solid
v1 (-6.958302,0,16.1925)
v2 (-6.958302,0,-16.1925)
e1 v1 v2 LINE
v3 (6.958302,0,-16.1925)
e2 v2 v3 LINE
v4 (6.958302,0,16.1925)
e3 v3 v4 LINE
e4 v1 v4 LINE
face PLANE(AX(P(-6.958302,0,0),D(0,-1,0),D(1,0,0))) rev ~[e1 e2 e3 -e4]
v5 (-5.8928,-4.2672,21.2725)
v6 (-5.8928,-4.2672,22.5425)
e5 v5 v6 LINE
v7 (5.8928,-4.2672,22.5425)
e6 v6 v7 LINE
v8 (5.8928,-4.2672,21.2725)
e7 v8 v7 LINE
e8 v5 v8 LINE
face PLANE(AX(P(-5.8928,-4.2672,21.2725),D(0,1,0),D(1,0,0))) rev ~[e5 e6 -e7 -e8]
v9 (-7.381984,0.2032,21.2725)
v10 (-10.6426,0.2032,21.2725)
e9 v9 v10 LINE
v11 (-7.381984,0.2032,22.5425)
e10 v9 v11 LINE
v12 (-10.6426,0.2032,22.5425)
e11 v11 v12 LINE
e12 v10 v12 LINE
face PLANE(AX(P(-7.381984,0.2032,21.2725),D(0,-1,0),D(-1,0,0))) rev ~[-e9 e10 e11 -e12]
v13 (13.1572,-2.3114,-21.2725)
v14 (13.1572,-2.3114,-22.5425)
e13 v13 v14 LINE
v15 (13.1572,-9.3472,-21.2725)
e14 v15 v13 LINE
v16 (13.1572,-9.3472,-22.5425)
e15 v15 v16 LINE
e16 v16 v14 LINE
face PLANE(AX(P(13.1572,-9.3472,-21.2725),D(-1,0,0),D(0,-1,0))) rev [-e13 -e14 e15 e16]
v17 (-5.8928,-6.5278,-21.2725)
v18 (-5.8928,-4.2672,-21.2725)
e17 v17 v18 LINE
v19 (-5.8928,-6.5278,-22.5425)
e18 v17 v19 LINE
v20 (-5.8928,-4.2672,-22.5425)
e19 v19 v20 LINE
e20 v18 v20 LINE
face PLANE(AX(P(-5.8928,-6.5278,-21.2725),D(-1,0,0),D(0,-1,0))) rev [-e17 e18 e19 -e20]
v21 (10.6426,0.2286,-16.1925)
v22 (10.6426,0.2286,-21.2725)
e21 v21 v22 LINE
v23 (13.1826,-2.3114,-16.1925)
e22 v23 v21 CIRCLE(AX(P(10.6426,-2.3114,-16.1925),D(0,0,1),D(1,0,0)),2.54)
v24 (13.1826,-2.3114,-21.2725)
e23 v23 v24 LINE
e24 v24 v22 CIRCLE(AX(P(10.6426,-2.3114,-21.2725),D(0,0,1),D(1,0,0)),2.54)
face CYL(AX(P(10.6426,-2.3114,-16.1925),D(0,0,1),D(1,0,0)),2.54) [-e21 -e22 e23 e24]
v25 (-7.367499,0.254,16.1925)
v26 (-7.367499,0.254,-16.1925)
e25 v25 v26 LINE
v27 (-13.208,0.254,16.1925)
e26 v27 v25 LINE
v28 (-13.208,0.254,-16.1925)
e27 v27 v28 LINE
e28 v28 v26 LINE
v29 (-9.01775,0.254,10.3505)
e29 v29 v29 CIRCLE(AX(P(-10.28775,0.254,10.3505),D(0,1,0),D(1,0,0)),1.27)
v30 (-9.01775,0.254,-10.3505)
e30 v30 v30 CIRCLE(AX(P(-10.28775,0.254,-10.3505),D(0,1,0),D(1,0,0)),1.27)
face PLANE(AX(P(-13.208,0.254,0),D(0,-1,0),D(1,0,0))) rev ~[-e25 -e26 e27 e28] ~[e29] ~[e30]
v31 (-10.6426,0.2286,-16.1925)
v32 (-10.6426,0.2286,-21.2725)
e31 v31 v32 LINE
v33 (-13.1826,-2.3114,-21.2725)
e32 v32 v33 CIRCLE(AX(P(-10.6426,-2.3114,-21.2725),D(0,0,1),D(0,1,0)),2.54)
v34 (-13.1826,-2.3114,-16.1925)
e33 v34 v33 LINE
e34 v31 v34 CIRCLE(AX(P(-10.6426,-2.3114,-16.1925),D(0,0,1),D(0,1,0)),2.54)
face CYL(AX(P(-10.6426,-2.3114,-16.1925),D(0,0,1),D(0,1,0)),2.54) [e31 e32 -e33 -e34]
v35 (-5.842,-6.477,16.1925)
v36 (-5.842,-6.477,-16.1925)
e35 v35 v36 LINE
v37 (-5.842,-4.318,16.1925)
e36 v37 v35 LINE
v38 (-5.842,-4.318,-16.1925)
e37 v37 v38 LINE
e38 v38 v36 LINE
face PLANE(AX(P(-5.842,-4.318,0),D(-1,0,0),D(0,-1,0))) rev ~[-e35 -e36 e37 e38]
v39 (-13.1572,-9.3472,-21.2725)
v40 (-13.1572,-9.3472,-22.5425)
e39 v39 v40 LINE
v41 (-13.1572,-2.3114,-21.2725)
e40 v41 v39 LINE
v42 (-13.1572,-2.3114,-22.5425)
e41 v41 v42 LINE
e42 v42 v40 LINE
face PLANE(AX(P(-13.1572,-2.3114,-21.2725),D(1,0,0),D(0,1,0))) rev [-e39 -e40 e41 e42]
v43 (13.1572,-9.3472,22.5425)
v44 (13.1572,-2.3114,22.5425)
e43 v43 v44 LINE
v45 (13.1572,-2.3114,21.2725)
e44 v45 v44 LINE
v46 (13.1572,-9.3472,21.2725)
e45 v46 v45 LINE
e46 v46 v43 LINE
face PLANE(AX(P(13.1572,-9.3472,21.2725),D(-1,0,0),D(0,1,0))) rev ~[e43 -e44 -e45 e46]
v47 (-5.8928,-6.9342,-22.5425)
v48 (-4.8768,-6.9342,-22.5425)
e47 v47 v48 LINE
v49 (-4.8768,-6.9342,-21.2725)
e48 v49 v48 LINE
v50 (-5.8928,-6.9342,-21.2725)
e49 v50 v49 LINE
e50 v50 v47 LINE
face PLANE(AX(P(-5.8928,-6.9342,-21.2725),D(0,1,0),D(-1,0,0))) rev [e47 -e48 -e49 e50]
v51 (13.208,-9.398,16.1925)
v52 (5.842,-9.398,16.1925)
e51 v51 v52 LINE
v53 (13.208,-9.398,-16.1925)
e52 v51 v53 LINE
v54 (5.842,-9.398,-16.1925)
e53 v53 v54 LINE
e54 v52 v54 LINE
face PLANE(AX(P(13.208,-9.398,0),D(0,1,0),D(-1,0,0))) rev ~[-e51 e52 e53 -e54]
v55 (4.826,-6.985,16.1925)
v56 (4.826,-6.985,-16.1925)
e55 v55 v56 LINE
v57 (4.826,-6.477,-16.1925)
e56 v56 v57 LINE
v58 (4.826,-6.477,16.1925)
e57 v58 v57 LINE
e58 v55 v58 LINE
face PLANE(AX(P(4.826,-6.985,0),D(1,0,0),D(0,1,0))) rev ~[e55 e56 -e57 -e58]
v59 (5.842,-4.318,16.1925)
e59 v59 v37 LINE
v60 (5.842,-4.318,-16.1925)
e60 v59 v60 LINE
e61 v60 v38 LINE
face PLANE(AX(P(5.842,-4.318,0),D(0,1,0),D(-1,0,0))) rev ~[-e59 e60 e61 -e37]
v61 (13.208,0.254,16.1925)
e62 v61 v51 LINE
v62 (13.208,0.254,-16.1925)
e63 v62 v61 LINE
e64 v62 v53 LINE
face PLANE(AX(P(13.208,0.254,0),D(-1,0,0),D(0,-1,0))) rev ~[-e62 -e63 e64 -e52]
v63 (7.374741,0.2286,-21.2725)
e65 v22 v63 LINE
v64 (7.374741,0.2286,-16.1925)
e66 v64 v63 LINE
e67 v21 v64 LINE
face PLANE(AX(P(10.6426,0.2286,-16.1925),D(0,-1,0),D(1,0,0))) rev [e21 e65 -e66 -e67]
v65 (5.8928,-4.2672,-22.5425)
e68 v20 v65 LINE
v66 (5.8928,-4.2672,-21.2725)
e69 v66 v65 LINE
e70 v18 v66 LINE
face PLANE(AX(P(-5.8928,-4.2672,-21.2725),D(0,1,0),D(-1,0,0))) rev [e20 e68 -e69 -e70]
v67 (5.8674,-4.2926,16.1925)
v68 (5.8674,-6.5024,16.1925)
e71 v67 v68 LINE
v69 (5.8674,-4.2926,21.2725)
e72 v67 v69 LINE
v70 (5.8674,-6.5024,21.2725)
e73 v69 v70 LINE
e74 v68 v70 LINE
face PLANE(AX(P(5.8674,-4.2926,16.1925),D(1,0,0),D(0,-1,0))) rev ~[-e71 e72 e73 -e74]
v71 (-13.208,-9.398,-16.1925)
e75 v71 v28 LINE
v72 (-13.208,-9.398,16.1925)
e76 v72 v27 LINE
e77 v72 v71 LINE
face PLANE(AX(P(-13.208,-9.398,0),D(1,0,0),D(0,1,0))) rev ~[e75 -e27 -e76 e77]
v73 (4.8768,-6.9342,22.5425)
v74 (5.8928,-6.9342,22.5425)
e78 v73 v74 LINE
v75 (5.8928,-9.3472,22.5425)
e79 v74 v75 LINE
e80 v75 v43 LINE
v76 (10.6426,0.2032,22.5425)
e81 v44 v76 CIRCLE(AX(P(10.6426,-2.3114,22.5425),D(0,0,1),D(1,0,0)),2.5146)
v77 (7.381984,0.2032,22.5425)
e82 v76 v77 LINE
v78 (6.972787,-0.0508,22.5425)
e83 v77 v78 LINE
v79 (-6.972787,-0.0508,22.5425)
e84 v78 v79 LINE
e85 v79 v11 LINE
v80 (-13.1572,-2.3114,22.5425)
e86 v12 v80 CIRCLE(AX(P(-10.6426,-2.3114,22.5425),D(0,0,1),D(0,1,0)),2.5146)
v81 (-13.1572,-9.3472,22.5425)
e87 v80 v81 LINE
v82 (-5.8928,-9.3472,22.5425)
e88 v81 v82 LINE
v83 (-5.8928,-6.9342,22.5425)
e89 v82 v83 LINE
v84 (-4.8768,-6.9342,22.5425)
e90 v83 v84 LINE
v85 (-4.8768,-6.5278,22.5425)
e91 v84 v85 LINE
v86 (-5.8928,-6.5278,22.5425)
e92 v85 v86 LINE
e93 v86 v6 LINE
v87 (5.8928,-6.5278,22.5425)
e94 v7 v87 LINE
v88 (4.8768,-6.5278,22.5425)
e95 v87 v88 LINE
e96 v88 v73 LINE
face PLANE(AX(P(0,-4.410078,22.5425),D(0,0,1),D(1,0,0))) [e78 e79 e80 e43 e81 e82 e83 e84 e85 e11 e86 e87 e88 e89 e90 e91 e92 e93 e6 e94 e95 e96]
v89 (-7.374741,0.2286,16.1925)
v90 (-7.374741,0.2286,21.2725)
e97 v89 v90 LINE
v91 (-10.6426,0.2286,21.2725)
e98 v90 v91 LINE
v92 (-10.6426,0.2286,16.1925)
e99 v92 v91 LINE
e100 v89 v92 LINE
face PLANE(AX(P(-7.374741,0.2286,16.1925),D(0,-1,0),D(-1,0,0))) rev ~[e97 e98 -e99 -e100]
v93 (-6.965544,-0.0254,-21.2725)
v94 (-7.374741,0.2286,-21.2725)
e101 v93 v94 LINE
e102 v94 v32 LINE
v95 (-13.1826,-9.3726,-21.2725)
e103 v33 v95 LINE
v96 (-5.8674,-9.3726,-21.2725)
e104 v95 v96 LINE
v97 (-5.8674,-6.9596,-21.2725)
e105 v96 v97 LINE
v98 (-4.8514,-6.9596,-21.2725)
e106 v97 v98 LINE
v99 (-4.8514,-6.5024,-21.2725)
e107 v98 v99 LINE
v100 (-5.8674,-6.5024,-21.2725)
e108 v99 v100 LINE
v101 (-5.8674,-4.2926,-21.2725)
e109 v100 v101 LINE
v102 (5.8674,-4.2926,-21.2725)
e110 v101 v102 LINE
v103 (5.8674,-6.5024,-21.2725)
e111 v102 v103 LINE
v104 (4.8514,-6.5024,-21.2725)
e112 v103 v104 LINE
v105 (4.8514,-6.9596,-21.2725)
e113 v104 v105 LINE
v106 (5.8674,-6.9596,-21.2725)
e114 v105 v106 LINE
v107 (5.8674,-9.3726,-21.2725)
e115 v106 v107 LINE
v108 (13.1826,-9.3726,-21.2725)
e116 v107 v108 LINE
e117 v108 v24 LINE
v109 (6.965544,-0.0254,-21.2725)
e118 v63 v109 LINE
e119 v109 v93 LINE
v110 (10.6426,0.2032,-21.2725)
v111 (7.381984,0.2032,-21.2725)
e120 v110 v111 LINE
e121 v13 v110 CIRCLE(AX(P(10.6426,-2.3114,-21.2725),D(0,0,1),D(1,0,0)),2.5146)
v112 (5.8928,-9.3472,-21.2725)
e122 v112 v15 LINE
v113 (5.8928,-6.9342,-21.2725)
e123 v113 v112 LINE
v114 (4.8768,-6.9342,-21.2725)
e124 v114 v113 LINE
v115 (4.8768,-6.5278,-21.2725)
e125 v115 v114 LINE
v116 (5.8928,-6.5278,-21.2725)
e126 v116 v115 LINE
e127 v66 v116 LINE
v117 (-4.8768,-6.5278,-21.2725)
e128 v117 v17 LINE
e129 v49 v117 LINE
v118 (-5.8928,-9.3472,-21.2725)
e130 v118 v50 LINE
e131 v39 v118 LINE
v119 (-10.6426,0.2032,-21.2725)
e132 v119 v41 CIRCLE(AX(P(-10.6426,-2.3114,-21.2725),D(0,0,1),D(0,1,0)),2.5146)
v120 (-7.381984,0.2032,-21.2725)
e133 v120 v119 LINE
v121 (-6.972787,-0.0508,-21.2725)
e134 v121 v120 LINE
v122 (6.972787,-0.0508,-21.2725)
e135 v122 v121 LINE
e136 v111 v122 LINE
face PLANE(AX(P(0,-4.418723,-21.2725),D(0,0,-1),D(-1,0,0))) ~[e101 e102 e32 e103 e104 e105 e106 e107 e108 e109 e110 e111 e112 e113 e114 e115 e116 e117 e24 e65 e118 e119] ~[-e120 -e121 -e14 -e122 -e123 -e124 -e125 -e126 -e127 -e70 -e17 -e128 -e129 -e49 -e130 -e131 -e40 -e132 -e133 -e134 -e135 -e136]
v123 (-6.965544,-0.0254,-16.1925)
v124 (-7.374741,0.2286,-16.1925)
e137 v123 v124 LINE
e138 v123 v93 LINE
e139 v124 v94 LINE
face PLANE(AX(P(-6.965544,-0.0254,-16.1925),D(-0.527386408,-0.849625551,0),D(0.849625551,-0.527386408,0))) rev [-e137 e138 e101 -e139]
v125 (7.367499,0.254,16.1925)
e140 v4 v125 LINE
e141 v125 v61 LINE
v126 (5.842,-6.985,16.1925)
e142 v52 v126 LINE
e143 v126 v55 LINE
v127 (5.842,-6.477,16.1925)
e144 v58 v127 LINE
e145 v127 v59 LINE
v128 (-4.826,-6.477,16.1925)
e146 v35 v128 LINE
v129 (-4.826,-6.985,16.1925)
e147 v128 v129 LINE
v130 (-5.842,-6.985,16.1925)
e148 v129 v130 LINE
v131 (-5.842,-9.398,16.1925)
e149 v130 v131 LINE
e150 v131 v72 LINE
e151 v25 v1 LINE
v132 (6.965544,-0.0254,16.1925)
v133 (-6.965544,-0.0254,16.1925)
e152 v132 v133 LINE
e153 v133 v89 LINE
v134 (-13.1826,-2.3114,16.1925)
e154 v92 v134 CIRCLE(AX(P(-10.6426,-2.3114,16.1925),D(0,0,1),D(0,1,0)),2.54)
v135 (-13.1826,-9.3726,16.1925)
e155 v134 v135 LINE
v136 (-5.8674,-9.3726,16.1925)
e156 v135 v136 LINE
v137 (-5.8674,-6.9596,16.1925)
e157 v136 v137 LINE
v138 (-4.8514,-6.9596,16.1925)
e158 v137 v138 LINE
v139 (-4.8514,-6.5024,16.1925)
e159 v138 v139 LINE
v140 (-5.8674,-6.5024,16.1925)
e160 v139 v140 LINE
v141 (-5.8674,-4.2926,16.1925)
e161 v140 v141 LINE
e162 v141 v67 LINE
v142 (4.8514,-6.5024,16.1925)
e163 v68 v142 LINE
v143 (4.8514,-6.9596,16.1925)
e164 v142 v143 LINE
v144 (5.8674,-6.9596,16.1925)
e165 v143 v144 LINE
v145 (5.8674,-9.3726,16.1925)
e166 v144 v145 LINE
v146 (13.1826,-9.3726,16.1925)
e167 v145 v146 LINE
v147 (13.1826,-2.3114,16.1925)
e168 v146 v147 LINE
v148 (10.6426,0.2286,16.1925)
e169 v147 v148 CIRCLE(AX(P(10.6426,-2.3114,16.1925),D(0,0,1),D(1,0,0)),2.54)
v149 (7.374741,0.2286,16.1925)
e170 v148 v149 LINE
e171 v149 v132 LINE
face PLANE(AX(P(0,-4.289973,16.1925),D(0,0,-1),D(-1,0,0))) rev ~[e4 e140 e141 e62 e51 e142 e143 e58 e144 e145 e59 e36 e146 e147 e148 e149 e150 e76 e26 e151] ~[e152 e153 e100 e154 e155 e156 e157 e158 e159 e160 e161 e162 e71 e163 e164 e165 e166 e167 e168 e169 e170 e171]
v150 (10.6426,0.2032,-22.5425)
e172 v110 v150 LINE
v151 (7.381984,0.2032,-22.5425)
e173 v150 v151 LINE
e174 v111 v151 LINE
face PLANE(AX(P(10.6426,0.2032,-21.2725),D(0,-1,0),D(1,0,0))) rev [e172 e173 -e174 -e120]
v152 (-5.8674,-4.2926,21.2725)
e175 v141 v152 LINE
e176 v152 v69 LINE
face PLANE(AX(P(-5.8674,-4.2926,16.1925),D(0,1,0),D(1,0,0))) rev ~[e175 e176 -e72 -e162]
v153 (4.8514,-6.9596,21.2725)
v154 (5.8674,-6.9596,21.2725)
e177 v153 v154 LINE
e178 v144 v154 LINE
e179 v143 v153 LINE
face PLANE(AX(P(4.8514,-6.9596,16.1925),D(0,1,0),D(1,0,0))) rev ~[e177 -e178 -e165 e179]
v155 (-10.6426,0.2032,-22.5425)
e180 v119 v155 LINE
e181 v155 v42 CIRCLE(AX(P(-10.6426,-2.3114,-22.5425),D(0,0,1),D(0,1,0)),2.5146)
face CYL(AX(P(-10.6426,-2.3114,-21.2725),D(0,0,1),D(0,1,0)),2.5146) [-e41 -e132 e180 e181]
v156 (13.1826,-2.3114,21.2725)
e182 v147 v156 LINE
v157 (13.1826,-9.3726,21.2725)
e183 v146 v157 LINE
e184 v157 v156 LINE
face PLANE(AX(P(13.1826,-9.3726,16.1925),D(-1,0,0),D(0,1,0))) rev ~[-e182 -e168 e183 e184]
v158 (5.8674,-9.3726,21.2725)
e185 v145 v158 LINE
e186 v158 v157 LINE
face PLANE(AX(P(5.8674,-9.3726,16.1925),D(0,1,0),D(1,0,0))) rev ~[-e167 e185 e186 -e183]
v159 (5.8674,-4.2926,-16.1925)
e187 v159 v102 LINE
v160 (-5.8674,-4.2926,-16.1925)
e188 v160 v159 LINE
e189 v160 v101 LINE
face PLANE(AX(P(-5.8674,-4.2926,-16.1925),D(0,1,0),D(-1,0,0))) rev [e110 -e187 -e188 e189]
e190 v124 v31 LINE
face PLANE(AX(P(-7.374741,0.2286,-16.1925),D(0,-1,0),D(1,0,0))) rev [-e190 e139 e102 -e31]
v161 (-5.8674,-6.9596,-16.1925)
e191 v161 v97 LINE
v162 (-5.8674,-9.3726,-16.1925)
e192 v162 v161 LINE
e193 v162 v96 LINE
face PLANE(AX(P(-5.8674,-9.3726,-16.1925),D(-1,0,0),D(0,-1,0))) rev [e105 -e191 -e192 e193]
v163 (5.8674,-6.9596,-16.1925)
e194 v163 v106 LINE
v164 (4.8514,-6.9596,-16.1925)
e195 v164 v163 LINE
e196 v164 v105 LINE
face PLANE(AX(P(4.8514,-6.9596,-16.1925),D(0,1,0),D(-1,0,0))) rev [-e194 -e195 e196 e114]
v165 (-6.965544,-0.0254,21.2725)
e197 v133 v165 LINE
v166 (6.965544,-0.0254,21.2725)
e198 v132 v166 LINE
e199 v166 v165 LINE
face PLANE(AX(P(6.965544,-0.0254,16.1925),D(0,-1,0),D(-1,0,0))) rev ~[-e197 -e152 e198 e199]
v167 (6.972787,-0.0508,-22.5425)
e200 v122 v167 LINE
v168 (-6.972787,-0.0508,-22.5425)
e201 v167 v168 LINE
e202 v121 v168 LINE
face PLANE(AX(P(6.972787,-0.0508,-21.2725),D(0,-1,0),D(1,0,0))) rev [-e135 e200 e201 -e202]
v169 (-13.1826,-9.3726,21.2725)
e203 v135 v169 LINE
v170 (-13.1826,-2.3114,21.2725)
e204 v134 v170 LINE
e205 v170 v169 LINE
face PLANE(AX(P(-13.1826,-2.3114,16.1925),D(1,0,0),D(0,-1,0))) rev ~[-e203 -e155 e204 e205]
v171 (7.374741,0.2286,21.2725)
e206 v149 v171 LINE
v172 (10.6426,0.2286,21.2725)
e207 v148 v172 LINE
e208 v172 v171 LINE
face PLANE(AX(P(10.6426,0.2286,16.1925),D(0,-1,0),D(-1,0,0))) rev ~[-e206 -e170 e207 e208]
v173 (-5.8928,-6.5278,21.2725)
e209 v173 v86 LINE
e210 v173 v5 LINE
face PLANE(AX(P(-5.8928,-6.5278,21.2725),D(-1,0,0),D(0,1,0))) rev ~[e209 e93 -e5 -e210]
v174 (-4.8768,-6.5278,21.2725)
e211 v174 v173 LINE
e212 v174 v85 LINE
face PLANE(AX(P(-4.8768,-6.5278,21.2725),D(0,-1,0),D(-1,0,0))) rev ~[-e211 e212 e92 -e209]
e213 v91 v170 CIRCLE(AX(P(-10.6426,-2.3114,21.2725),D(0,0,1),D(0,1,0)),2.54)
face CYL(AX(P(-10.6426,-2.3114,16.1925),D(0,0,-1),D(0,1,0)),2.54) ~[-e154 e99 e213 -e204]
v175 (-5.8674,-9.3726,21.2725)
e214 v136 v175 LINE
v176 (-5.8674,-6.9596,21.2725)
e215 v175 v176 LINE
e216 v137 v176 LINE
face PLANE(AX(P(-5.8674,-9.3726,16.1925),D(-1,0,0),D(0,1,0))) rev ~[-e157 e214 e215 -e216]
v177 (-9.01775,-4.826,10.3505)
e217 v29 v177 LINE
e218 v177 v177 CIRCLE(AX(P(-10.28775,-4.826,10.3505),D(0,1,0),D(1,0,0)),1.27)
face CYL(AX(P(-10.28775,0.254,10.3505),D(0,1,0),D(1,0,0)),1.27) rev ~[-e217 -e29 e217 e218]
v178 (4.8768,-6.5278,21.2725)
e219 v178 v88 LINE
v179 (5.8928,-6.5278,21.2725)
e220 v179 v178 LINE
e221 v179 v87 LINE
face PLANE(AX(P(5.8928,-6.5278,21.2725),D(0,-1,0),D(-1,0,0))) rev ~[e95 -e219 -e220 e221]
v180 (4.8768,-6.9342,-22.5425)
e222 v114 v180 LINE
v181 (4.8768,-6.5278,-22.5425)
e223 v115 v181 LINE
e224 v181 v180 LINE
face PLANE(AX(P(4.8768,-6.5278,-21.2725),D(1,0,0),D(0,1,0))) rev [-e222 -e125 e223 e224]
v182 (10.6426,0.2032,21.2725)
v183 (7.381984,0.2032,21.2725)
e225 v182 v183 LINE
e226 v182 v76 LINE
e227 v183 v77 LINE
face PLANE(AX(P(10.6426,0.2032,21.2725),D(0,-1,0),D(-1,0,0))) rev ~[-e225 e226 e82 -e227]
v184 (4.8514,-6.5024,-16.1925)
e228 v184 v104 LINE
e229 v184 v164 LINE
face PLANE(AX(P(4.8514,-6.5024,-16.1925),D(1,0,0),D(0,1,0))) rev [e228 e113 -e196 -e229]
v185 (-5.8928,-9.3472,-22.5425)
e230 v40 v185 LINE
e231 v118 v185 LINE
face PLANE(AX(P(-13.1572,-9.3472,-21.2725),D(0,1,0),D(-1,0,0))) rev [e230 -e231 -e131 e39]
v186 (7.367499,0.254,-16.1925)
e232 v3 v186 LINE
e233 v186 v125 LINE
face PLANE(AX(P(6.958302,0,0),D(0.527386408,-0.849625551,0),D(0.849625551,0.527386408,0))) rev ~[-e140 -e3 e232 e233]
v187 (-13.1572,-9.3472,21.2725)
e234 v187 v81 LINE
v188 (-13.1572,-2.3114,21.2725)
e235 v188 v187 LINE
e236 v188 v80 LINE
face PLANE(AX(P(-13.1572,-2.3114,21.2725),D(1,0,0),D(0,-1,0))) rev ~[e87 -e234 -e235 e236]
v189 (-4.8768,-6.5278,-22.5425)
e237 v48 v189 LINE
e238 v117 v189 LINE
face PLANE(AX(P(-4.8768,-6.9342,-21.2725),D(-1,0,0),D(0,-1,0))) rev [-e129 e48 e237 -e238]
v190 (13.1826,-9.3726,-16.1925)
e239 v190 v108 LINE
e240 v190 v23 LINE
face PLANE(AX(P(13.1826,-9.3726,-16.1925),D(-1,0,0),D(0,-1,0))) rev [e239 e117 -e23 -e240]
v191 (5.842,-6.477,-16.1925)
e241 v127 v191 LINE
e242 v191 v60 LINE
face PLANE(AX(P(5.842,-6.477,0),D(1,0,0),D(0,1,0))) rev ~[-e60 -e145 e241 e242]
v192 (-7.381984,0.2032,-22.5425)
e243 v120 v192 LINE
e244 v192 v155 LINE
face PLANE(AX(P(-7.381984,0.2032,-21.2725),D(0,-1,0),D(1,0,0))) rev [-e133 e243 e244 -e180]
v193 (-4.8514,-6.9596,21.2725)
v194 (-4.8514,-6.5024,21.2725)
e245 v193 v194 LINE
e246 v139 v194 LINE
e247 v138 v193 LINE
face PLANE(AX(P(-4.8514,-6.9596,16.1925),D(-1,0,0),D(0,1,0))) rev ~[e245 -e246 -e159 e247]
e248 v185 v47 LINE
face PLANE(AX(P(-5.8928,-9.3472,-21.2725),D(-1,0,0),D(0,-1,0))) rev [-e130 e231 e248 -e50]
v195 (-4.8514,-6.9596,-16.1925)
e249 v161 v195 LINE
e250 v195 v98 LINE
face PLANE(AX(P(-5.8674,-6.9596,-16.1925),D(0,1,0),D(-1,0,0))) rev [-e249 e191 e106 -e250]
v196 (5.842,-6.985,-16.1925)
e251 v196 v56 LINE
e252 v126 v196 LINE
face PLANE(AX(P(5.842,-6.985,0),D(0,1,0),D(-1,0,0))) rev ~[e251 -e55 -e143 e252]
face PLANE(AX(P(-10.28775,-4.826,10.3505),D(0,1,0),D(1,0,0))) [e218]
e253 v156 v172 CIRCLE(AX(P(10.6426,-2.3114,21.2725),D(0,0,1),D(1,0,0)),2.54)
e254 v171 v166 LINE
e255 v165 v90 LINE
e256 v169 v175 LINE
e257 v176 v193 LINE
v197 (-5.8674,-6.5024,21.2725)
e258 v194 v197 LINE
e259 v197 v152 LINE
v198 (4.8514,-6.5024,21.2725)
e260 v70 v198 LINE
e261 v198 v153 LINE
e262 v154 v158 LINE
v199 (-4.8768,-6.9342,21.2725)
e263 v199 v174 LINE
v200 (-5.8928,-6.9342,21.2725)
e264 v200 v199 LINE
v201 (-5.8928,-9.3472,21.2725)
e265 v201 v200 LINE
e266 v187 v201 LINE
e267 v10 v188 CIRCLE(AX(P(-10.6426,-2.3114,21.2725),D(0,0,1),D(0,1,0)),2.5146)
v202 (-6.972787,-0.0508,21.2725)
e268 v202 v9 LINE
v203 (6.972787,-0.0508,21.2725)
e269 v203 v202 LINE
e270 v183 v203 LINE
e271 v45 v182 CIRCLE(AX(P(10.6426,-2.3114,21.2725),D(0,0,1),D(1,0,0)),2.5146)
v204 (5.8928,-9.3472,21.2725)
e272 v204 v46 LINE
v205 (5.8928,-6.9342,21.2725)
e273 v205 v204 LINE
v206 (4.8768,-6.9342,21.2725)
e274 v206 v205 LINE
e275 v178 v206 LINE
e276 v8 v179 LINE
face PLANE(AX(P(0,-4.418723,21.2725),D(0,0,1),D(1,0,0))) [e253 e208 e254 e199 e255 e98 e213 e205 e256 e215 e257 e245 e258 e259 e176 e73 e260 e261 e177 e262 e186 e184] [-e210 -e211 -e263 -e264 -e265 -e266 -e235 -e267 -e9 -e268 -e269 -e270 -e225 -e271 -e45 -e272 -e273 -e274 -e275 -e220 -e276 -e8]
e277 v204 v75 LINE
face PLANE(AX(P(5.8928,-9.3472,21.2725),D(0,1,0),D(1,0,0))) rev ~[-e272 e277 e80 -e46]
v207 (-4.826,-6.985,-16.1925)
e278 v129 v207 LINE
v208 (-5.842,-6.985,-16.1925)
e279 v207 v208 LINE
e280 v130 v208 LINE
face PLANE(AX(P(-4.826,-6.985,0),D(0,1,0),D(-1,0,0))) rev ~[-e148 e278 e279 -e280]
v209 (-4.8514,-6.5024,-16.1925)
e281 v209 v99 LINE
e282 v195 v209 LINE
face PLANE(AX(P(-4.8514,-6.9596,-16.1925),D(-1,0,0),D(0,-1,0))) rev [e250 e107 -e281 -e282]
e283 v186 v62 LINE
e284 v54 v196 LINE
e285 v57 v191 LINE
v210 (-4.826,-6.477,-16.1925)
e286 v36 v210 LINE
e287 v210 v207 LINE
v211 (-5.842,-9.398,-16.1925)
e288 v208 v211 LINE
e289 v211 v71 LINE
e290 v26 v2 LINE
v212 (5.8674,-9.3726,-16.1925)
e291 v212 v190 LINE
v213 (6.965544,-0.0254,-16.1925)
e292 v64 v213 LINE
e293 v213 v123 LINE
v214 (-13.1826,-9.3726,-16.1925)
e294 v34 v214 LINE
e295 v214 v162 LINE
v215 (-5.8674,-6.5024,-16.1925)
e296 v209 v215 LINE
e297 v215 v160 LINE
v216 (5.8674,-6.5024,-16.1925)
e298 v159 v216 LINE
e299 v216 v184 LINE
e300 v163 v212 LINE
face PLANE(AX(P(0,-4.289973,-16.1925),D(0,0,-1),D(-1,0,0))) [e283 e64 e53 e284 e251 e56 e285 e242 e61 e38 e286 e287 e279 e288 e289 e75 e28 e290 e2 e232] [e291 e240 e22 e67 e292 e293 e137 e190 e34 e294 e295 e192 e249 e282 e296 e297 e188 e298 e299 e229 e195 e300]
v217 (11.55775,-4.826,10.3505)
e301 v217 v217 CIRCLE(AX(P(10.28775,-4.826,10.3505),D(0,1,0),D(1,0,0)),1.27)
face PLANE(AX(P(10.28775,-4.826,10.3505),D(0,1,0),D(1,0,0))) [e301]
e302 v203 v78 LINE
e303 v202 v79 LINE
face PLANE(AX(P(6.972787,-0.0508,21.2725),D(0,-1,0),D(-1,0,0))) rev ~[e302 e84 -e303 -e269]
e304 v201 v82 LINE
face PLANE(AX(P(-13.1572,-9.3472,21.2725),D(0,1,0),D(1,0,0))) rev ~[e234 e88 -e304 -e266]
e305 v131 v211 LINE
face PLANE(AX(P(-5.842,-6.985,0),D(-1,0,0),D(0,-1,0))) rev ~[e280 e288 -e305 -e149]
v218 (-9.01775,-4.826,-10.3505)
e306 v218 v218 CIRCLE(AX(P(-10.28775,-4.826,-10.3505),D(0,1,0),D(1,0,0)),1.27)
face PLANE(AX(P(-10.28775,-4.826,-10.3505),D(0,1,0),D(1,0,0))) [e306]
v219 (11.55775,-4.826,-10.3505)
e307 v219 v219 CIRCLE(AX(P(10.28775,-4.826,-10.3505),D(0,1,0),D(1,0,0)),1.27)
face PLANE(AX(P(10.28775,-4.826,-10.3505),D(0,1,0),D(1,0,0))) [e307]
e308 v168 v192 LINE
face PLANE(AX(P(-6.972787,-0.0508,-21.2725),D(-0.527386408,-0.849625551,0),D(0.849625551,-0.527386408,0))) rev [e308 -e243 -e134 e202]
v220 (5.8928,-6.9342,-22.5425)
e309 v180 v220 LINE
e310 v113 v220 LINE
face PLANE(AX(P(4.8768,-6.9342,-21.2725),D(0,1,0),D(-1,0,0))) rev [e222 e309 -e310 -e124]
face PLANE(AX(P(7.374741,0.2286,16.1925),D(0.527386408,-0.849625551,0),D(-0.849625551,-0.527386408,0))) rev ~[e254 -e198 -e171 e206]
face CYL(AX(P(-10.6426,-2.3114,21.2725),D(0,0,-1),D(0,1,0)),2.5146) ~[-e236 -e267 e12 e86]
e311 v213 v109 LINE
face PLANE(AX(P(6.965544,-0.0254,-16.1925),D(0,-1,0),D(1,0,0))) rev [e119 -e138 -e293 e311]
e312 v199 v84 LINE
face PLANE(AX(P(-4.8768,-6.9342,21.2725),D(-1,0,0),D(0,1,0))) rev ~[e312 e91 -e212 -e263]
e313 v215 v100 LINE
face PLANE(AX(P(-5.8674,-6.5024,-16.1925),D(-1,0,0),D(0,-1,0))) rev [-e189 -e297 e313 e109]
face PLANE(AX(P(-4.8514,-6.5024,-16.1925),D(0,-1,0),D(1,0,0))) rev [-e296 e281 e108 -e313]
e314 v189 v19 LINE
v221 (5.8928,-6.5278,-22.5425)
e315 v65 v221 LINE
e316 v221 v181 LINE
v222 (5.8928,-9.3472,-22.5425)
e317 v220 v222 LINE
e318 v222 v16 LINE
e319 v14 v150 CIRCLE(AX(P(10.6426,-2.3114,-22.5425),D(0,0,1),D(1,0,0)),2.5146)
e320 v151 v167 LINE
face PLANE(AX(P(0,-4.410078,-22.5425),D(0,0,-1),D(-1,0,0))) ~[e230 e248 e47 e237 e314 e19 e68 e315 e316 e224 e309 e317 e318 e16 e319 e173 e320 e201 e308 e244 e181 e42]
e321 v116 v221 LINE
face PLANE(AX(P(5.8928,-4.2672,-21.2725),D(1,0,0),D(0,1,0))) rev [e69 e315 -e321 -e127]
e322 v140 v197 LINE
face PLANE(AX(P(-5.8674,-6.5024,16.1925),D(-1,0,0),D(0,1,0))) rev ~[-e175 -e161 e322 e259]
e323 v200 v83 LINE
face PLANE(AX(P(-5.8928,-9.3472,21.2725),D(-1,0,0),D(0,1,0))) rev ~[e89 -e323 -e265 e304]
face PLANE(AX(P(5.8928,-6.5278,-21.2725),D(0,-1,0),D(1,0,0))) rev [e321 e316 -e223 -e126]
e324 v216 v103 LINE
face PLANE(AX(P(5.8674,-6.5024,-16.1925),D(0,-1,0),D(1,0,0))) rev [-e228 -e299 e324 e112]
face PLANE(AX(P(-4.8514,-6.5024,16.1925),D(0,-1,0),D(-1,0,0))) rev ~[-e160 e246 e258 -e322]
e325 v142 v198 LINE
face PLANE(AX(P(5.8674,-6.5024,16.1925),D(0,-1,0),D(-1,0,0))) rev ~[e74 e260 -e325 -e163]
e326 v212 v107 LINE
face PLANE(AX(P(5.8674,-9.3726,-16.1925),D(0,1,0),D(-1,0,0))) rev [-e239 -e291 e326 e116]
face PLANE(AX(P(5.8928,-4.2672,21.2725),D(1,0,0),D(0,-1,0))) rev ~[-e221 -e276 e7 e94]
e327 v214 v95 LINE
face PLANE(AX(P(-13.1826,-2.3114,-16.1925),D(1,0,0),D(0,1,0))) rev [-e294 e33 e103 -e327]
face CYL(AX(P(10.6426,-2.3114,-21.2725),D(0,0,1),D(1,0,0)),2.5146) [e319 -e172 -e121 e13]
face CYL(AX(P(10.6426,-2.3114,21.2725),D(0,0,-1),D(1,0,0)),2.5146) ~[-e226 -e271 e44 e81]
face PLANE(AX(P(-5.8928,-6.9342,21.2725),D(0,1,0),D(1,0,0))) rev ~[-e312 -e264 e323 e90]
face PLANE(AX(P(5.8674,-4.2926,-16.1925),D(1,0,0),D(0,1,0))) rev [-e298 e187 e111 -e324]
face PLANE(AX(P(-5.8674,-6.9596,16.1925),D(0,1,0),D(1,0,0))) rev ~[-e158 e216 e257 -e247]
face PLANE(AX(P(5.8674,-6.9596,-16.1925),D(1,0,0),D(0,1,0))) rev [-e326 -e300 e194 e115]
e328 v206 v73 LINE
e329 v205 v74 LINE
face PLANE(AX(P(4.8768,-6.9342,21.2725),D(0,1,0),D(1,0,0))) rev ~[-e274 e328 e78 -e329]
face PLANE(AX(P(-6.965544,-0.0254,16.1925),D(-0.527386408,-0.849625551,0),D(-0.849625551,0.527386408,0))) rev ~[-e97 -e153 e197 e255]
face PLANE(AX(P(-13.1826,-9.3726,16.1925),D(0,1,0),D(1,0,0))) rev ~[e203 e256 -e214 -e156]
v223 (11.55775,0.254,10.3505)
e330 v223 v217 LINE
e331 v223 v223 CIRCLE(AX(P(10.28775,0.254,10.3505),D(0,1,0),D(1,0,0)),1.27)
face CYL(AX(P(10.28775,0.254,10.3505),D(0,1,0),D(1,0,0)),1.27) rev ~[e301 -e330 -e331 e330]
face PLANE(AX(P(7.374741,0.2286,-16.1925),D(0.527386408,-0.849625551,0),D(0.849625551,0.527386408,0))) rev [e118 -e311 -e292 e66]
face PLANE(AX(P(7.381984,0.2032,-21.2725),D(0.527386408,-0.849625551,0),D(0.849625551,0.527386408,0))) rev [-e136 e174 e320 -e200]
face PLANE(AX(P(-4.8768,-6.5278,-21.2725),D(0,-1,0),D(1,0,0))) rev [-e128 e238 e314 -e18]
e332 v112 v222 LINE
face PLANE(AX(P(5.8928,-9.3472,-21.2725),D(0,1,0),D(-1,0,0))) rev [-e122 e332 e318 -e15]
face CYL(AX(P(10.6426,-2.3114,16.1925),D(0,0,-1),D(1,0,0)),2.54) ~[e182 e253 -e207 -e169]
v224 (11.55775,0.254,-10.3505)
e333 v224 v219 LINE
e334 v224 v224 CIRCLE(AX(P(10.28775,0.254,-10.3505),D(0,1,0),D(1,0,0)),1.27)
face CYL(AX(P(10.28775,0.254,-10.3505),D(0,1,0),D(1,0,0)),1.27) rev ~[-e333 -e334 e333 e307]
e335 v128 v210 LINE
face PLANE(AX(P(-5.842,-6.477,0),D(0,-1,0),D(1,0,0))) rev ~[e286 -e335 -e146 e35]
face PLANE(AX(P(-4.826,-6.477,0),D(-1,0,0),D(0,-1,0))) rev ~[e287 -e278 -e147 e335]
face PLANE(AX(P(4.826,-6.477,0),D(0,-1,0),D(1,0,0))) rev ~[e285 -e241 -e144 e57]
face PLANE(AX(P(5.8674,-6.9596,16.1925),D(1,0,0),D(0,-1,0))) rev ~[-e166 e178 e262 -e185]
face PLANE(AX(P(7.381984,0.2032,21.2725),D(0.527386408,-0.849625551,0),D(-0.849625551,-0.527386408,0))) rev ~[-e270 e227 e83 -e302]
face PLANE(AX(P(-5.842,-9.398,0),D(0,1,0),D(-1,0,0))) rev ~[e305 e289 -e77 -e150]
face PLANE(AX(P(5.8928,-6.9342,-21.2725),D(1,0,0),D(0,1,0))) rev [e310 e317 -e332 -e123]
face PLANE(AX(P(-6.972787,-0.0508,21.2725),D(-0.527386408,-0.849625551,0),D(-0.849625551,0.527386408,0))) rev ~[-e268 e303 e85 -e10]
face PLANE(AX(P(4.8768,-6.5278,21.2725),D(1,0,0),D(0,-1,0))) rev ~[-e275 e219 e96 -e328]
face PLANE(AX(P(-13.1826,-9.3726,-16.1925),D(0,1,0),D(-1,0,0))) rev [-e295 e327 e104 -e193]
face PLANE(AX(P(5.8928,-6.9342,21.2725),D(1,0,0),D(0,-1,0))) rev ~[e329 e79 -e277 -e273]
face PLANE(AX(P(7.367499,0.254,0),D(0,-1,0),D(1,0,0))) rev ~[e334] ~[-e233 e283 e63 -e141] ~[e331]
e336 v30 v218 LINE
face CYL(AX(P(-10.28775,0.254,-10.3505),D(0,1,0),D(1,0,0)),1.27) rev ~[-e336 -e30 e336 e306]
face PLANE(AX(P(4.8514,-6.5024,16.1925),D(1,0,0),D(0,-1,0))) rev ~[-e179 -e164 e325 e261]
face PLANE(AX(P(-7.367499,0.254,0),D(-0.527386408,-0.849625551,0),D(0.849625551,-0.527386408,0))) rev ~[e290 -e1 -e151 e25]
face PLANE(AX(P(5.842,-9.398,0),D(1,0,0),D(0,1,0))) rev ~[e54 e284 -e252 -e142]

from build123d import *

# Parameters (mm, degrees)
BOSS_EXTRUDE1_DEPTH = 16.1925
SKETCH2_R           = 1.27
CUT_EXTRUDE1_DEPTH  = 5.08
BOSS_EXTRUDE2_DEPTH = 5.08
BOSS_EXTRUDE3_DEPTH = 1.27


with BuildPart() as part:
    # Sketch1 → Boss-Extrude1 (new body, symmetric)
    with BuildSketch(Plane.XY):
        Polygon((13.208, 0.254), (13.208, -9.398), (5.842, -9.398), (5.842, -6.985), (4.826, -6.985), (4.826, -6.477), (5.842, -6.477), (5.842, -4.318), (-5.842, -4.318), (-5.842, -6.477), (-4.826, -6.477), (-4.826, -6.985), (-5.842, -6.985), (-5.842, -9.398), (-13.208, -9.398), (-13.208, 0.254), (-7.367499011, 0.254), (-6.958302098, 0), (6.958302098, 0), (7.367499011, 0.254), align=None)
    extrude(amount=BOSS_EXTRUDE1_DEPTH, both=True)

    # Sketch2 → Cut-Extrude1 (cut)
    with BuildSketch(Plane(origin=(0, 0.254, 0), x_dir=(1, 0, 0), z_dir=(0, 1, 0))):
        with Locations((-10.287749506, 10.3505)):
            Circle(SKETCH2_R)
        with Locations((10.287749506, 10.3505)):
            Circle(SKETCH2_R)
        with Locations((10.287749506, -10.3505)):
            Circle(SKETCH2_R)
        with Locations((-10.287749506, -10.3505)):
            Circle(SKETCH2_R)
    extrude(amount=-CUT_EXTRUDE1_DEPTH, mode=Mode.SUBTRACT)

    # Sketch3 → Boss-Extrude2 (add)
    with BuildSketch(Plane.XY.offset(16.1925)):
        with BuildLine():
            Line((5.8674, -4.2926), (5.8674, -6.5024))
            Line((5.8674, -6.5024), (4.8514, -6.5024))
            Line((4.8514, -6.5024), (4.8514, -6.9596))
            Line((4.8514, -6.9596), (5.8674, -6.9596))
            Line((5.8674, -6.9596), (5.8674, -9.3726))
            Line((5.8674, -9.3726), (13.1826, -9.3726))
            Line((13.1826, -9.3726), (13.1826, -2.3114))
            ThreePointArc((13.1826, -2.3114), (12.438651224, -0.515348776), (10.6426, 0.2286))
            Line((10.6426, 0.2286), (7.37474135, 0.2286))
            Line((7.37474135, 0.2286), (6.965544437, -0.0254))
            Line((6.965544437, -0.0254), (-6.965544437, -0.0254))
            Line((-6.965544437, -0.0254), (-7.37474135, 0.2286))
            Line((-7.37474135, 0.2286), (-10.6426, 0.2286))
            ThreePointArc((-10.6426, 0.2286), (-12.438651224, -0.515348776), (-13.1826, -2.3114))
            Line((-13.1826, -2.3114), (-13.1826, -9.3726))
            Line((-13.1826, -9.3726), (-5.8674, -9.3726))
            Line((-5.8674, -9.3726), (-5.8674, -6.9596))
            Line((-5.8674, -6.9596), (-4.8514, -6.9596))
            Line((-4.8514, -6.9596), (-4.8514, -6.5024))
            Line((-4.8514, -6.5024), (-5.8674, -6.5024))
            Line((-5.8674, -6.5024), (-5.8674, -4.2926))
            Line((-5.8674, -4.2926), (5.8674, -4.2926))
        make_face()
    boss_extrude2 = extrude(amount=BOSS_EXTRUDE2_DEPTH)

    # Sketch5 → Boss-Extrude3 (add)
    with BuildSketch(Plane.XY.offset(21.2725)):
        with BuildLine():
            Line((13.1572, -9.3472), (13.1572, -2.3114))
            ThreePointArc((13.1572, -2.3114), (12.420690712, -0.533309288), (10.6426, 0.2032))
            Line((10.6426, 0.2032), (7.381983689, 0.2032))
            Line((7.381983689, 0.2032), (6.972786776, -0.0508))
            Line((6.972786776, -0.0508), (-6.972786776, -0.0508))
            Line((-6.972786776, -0.0508), (-7.381983689, 0.2032))
            Line((-7.381983689, 0.2032), (-10.6426, 0.2032))
            ThreePointArc((-10.6426, 0.2032), (-12.420690712, -0.533309288), (-13.1572, -2.3114))
            Line((-13.1572, -2.3114), (-13.1572, -9.3472))
            Line((-13.1572, -9.3472), (-5.8928, -9.3472))
            Line((-5.8928, -9.3472), (-5.8928, -6.9342))
            Line((-5.8928, -6.9342), (-4.8768, -6.9342))
            Line((-4.8768, -6.9342), (-4.8768, -6.5278))
            Line((-4.8768, -6.5278), (-5.8928, -6.5278))
            Line((-5.8928, -6.5278), (-5.8928, -4.2672))
            Line((-5.8928, -4.2672), (5.8928, -4.2672))
            Line((5.8928, -4.2672), (5.8928, -6.5278))
            Line((5.8928, -6.5278), (4.8768, -6.5278))
            Line((4.8768, -6.5278), (4.8768, -6.9342))
            Line((4.8768, -6.9342), (5.8928, -6.9342))
            Line((5.8928, -6.9342), (5.8928, -9.3472))
            Line((5.8928, -9.3472), (13.1572, -9.3472))
        make_face()
    boss_extrude3 = extrude(amount=BOSS_EXTRUDE3_DEPTH)

    # Mirror2: Boss-Extrude2, Boss-Extrude3 across plane
    add(boss_extrude2.mirror(Plane.XY))
    add(boss_extrude3.mirror(Plane.XY))


solid = part.part
